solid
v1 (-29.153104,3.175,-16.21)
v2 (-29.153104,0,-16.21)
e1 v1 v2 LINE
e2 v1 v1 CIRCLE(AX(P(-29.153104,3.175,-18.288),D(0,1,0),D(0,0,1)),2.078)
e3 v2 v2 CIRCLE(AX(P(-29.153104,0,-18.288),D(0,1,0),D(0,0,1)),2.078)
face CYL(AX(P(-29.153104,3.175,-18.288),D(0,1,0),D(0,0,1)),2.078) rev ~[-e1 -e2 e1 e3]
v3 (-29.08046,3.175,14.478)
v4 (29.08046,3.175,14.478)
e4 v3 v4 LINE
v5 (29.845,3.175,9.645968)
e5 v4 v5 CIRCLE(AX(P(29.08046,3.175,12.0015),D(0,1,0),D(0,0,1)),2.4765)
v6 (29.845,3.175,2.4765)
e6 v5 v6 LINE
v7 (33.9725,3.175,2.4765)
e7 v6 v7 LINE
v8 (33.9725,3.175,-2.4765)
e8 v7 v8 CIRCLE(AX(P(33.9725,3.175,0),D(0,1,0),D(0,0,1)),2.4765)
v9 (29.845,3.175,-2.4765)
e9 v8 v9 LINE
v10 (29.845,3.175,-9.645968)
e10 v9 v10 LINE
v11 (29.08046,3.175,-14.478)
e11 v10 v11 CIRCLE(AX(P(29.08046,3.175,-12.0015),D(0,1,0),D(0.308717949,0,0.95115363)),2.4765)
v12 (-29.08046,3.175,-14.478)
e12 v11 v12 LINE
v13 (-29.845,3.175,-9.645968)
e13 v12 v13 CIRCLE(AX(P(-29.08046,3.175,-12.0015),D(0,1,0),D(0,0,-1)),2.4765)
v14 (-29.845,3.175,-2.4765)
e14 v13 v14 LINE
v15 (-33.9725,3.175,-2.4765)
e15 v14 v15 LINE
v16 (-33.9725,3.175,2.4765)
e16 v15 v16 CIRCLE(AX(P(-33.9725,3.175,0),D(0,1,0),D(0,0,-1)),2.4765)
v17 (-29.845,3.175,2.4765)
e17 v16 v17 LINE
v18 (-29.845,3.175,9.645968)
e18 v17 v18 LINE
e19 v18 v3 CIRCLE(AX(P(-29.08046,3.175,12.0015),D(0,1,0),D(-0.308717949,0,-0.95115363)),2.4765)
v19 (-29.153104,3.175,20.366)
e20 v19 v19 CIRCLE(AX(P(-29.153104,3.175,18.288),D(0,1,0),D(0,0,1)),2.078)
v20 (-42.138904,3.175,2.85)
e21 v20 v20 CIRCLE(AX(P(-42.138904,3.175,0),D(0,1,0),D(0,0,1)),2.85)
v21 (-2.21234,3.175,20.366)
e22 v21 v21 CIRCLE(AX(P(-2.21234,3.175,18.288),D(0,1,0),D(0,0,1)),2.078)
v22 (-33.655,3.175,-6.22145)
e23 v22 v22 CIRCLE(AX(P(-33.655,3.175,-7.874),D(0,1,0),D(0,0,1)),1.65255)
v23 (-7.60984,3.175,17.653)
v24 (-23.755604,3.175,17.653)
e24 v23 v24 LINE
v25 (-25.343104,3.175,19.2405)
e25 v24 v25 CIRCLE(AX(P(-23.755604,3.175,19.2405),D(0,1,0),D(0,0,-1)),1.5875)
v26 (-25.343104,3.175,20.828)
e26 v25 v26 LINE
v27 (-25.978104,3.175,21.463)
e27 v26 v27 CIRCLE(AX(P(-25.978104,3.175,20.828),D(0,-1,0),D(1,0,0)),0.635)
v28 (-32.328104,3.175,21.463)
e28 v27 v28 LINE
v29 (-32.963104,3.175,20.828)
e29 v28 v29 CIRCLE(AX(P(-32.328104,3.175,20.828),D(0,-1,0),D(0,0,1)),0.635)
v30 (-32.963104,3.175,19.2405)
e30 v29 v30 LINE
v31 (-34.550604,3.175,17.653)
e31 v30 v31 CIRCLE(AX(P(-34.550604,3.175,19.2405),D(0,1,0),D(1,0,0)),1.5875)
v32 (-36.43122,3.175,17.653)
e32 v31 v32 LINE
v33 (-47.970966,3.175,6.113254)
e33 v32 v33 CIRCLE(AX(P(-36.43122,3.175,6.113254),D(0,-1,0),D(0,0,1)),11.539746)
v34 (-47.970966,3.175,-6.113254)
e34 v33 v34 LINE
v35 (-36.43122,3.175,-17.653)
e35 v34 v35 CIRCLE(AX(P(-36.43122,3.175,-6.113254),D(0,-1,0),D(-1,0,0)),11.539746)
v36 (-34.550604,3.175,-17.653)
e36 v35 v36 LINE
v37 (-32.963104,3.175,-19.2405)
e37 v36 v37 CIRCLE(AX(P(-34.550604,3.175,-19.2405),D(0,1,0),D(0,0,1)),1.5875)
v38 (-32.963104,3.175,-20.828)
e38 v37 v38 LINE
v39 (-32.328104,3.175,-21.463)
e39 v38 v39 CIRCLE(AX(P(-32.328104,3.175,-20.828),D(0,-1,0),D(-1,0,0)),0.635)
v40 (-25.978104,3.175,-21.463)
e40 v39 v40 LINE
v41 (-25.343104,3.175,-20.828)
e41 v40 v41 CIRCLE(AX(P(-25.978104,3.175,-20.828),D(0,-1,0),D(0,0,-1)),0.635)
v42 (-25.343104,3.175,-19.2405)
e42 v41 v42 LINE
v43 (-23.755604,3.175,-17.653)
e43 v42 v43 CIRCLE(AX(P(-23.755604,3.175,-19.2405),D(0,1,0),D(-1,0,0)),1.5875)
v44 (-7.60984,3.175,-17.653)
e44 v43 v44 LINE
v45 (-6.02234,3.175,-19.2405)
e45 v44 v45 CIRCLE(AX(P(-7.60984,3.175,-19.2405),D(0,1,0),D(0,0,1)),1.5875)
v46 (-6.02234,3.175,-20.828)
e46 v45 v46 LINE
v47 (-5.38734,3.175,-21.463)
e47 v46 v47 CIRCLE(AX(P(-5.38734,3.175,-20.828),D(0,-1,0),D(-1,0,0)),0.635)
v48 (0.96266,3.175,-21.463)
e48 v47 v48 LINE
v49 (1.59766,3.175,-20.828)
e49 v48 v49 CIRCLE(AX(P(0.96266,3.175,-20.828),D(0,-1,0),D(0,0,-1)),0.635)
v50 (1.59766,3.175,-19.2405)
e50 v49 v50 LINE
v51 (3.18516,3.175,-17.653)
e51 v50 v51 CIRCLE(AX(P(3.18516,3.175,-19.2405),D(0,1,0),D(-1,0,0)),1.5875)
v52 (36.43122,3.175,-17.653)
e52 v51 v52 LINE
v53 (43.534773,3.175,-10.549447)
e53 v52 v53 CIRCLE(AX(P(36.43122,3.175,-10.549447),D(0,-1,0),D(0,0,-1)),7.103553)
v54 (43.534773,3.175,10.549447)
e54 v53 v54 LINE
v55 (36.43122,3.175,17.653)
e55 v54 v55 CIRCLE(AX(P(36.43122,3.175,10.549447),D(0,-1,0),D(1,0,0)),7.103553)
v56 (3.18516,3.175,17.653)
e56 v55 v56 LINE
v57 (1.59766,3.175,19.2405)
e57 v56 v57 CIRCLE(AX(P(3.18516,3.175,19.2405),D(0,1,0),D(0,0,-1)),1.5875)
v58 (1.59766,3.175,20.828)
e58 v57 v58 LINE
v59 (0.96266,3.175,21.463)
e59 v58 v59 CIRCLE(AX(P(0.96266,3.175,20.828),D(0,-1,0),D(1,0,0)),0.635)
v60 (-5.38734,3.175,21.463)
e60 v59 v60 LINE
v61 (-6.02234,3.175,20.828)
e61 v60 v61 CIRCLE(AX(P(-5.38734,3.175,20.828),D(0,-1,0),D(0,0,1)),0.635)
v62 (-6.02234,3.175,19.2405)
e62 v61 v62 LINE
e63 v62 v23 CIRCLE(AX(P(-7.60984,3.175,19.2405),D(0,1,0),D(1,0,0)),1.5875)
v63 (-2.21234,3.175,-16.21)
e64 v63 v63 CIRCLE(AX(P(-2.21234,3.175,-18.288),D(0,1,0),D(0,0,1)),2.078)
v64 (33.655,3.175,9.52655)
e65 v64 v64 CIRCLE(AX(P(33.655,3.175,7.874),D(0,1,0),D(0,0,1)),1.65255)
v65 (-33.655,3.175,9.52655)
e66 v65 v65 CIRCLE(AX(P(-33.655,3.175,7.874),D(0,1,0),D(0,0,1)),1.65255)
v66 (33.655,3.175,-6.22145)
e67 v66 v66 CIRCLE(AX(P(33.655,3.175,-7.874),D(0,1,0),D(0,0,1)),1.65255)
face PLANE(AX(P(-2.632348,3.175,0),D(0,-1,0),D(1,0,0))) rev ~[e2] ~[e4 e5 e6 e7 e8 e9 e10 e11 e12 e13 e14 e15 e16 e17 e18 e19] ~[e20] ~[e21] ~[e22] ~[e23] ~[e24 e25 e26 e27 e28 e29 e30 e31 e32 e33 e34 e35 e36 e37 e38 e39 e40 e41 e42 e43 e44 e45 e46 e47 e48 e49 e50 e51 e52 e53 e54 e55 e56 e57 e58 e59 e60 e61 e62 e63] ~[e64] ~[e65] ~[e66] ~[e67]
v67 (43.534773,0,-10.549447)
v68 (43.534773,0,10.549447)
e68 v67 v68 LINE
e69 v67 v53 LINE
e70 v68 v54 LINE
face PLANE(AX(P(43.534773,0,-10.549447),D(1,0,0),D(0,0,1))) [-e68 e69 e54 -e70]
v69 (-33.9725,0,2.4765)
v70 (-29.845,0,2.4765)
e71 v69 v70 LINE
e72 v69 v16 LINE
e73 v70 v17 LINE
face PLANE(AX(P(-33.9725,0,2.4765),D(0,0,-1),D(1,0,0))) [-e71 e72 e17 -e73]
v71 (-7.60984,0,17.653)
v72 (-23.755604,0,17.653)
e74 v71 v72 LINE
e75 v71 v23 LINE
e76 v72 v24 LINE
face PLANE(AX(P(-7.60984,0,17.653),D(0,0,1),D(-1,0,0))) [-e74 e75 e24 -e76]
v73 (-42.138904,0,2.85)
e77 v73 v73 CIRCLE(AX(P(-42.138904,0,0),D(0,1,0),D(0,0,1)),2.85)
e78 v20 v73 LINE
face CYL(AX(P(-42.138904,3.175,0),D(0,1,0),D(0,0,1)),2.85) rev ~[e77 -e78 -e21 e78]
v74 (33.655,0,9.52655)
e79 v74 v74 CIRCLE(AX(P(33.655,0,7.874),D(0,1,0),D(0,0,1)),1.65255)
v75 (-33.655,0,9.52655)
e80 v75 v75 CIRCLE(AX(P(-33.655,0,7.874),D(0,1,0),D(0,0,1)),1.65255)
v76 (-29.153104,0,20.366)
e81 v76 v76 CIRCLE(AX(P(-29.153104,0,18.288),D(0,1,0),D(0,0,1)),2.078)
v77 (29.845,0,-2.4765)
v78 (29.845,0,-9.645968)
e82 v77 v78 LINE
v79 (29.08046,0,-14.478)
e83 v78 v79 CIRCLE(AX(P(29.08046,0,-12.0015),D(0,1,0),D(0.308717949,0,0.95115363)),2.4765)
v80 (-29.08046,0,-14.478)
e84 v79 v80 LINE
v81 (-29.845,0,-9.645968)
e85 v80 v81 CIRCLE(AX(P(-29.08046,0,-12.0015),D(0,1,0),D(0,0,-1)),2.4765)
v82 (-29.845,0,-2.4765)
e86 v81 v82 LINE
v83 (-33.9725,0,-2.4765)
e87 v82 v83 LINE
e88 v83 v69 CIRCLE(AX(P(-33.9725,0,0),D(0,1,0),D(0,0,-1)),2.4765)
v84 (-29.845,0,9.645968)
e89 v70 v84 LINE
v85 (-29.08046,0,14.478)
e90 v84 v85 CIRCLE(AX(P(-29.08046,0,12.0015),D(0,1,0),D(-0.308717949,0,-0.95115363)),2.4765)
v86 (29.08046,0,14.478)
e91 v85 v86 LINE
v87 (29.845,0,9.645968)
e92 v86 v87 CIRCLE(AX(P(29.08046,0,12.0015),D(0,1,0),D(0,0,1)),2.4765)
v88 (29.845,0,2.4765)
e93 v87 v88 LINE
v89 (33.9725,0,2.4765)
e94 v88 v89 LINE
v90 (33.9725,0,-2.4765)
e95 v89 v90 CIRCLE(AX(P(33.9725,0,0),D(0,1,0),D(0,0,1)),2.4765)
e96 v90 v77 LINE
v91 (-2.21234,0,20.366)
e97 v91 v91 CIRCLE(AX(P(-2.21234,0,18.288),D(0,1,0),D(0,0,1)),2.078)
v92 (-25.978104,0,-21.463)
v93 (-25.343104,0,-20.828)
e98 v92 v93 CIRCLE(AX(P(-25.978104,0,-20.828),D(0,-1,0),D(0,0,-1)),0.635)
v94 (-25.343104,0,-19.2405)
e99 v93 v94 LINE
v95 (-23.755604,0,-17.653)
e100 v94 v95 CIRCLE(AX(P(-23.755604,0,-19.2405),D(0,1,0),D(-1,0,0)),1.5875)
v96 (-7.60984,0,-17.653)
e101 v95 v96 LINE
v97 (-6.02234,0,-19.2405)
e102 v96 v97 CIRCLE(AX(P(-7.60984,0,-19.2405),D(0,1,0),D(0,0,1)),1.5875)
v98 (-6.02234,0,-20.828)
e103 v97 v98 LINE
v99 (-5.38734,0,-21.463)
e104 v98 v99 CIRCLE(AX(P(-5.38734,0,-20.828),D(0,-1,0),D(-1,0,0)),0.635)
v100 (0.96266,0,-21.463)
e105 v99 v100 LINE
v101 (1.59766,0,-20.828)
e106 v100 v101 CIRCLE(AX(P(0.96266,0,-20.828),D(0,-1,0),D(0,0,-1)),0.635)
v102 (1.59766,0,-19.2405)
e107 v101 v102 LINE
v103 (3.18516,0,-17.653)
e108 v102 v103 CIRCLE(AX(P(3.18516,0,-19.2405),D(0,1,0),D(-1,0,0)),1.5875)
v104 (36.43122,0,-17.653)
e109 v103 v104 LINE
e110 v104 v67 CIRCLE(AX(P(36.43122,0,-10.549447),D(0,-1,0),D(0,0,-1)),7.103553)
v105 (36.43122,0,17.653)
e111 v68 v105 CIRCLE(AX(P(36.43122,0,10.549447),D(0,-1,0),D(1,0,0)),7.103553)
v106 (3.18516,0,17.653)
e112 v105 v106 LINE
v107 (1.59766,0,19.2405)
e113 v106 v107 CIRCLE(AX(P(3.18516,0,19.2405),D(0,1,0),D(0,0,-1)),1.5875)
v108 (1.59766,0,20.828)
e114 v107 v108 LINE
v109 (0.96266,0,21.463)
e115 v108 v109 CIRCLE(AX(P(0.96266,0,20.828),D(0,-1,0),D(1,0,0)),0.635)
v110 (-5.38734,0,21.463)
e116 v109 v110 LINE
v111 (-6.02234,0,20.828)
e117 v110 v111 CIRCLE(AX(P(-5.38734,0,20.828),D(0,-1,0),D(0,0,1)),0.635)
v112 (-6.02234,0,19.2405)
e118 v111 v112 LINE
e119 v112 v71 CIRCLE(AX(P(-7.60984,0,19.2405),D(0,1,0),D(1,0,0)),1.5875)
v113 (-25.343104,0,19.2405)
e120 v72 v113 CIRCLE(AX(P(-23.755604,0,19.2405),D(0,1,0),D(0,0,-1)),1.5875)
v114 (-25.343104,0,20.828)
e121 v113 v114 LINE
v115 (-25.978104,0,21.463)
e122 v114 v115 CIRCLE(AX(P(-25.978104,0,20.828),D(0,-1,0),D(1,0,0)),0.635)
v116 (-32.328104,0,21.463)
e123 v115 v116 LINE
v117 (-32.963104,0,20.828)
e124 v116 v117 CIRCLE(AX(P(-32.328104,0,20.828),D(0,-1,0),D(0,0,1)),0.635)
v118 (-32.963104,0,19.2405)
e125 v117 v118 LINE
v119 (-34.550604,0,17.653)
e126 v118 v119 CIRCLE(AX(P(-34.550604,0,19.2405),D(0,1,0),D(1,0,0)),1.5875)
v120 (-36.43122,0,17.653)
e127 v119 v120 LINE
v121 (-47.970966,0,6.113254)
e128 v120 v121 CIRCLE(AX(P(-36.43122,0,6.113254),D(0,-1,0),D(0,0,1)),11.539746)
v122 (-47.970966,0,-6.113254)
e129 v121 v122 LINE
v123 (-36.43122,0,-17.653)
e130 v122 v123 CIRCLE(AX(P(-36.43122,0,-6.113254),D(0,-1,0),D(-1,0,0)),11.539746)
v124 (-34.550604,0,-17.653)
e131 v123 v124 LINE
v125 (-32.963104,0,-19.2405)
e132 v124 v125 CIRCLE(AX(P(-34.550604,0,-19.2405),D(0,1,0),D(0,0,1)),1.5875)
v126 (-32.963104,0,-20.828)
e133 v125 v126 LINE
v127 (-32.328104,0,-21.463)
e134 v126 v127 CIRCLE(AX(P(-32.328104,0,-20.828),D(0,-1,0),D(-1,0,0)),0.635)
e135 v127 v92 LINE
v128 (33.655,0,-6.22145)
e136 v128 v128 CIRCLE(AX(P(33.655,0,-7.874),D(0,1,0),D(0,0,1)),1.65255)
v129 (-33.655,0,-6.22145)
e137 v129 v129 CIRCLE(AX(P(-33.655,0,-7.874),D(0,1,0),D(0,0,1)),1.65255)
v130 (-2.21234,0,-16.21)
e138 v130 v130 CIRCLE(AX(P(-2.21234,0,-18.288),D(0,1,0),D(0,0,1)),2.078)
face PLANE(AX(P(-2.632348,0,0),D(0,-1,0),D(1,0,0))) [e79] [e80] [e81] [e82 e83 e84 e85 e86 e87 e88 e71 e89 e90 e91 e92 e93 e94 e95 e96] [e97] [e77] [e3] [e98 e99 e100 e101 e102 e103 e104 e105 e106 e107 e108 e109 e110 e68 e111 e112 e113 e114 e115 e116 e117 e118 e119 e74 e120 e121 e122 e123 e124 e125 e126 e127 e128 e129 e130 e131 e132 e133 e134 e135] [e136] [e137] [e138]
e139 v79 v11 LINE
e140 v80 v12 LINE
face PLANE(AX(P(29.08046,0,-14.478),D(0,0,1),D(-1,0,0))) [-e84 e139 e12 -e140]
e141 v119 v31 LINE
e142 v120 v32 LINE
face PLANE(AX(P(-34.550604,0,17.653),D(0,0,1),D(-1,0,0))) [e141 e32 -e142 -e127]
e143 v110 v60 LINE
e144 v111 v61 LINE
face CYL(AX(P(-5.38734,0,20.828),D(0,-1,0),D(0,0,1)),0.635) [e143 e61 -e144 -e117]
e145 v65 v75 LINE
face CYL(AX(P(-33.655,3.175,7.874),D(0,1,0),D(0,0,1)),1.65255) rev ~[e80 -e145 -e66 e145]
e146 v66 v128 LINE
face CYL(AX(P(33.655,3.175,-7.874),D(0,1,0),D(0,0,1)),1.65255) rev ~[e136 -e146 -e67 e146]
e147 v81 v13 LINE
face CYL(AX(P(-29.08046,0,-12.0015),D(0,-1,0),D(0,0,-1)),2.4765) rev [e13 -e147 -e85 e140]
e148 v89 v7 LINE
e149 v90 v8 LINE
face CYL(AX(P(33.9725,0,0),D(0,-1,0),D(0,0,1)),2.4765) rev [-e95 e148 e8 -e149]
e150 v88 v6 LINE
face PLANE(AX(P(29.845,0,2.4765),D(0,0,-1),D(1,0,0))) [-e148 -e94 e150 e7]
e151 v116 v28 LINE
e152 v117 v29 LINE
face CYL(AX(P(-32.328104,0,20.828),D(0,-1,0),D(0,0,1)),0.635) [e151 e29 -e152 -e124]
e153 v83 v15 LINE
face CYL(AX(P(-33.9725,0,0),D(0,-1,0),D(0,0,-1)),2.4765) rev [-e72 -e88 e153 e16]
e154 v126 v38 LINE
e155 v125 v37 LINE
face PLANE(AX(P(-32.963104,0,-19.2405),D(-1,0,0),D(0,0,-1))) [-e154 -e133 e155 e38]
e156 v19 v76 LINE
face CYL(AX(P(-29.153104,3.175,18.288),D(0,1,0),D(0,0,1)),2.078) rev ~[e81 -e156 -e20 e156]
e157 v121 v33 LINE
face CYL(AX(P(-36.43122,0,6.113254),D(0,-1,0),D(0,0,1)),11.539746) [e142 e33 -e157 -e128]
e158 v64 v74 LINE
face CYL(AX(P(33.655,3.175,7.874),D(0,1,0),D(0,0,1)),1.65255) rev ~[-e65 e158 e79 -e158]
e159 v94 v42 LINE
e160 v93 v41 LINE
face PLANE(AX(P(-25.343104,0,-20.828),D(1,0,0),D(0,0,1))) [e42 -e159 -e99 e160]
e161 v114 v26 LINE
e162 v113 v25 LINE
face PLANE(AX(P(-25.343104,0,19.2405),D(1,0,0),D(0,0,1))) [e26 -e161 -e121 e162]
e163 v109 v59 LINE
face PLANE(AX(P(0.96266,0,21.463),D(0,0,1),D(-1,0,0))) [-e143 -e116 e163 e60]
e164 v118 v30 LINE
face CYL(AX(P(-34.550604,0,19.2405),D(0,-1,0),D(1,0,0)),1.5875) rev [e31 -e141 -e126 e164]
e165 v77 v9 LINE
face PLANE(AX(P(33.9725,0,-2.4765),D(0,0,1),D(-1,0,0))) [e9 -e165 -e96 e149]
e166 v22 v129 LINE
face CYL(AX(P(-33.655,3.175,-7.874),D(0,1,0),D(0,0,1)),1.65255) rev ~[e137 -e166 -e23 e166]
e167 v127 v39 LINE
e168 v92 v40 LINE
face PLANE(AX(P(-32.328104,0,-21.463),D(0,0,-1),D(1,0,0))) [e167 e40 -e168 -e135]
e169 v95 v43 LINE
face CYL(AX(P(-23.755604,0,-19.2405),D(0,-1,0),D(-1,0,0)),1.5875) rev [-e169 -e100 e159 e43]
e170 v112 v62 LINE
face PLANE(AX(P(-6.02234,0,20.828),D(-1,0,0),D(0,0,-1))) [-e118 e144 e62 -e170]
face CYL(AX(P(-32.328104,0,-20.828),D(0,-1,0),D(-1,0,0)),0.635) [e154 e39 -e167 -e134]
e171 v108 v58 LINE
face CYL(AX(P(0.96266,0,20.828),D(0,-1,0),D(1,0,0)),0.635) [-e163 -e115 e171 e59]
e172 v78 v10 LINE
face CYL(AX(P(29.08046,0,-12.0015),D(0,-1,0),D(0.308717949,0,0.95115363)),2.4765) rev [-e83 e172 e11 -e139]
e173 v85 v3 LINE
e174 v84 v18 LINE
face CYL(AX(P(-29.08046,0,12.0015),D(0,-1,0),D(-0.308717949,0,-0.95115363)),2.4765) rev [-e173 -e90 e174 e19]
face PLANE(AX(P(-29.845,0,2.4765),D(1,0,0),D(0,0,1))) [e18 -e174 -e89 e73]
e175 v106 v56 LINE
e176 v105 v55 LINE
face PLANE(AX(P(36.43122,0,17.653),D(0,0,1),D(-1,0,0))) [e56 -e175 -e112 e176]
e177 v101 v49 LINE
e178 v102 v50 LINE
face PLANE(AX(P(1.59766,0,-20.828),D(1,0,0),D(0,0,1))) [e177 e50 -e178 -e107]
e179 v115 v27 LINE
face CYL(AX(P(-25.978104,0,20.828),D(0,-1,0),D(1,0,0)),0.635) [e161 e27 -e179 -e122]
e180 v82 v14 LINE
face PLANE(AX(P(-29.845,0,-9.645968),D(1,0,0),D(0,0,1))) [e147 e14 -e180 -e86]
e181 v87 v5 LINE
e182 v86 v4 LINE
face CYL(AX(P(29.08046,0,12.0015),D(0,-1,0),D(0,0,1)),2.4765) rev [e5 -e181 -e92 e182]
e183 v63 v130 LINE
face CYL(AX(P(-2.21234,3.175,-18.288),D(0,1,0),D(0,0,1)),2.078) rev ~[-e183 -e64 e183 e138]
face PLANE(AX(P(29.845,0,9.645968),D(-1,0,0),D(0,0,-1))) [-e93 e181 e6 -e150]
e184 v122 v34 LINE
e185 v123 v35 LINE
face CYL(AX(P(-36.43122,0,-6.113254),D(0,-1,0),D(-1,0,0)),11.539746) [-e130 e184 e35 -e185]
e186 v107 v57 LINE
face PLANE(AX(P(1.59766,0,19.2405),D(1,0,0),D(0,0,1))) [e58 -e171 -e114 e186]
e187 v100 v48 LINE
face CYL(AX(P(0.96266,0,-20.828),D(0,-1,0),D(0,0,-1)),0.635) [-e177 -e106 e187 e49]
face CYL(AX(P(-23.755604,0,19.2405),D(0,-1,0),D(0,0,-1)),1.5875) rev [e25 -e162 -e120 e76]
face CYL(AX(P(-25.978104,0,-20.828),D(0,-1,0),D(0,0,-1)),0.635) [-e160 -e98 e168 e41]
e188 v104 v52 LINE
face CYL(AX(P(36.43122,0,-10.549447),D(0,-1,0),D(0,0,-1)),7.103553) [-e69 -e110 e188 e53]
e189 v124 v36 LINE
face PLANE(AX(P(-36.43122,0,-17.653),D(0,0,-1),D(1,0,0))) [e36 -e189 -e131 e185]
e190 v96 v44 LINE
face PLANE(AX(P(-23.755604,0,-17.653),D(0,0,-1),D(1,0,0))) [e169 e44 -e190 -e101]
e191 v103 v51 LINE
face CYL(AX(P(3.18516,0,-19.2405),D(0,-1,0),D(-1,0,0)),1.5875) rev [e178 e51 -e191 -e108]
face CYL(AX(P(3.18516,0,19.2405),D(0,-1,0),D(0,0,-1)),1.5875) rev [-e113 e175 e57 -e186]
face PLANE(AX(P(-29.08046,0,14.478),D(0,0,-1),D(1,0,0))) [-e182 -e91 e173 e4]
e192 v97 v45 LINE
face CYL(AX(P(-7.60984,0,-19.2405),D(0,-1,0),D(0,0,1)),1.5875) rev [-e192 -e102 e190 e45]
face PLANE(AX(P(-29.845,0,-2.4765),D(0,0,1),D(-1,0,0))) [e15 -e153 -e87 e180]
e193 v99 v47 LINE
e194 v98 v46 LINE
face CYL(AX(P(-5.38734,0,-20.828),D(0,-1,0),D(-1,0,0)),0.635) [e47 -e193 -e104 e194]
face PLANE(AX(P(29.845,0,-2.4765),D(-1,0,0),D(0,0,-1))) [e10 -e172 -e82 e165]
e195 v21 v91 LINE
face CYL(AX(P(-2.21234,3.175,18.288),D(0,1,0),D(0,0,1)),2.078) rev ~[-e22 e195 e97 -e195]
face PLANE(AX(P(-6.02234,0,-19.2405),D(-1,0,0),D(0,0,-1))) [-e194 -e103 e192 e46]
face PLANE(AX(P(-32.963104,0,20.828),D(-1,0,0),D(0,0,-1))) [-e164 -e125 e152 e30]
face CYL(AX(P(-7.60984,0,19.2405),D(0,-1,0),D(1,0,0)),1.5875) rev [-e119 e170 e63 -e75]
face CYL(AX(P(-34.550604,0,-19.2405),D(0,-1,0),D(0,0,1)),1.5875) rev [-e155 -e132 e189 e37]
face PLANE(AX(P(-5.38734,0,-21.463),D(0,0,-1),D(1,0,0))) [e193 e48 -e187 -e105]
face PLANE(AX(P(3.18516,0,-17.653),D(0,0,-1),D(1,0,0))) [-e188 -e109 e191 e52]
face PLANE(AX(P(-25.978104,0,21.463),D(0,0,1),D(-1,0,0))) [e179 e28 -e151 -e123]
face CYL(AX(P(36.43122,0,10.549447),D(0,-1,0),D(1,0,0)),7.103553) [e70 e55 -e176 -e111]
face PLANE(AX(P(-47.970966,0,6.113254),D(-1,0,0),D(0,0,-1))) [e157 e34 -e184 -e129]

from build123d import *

# Parameters (mm, degrees)
CROQUIS1_R              = 1.35255
CROQUIS1_R_2            = 1.778
SALIENTE_EXTRUIR1_DEPTH = 3.175
CROQUIS5_R              = 2.55
CORTAR_EXTRUIR1_DEPTH   = 53.649355209
CROQUIS6_R              = 2.078
CROQUIS6_R_2            = 1.65255
CROQUIS6_R_3            = 2.85
CORTAR_EXTRUIR2_DEPTH   = 53.649355209


with BuildPart() as part:
    # Croquis1 → Saliente-Extruir1 (new body)
    with BuildSketch(Plane.XZ):
        with BuildLine():
            Line((-6.02234, -19.2405), (-6.02234, -20.828))
            ThreePointArc((-6.02234, -20.828), (-5.836352806, -21.277012806), (-5.38734, -21.463))
            Line((-5.38734, -21.463), (0.96266, -21.463))
            ThreePointArc((0.96266, -21.463), (1.411672806, -21.277012806), (1.59766, -20.828))
            Line((1.59766, -20.828), (1.59766, -19.2405))
            ThreePointArc((1.59766, -19.2405), (2.062627985, -18.117967985), (3.18516, -17.653))
            Line((3.18516, -17.653), (36.43122, -17.653))
            ThreePointArc((36.43122, -17.653), (41.454190356, -15.572417555), (43.534772801, -10.549447199))
            Line((43.534772801, -10.549447199), (43.534772801, 10.549447199))
            ThreePointArc((43.534772801, 10.549447199), (41.454190356, 15.572417555), (36.43122, 17.653))
            Line((36.43122, 17.653), (3.18516, 17.653))
            ThreePointArc((3.18516, 17.653), (2.062627985, 18.117967985), (1.59766, 19.2405))
            Line((1.59766, 19.2405), (1.59766, 20.828))
            ThreePointArc((1.59766, 20.828), (1.411672806, 21.277012806), (0.96266, 21.463))
            Line((0.96266, 21.463), (-5.38734, 21.463))
            ThreePointArc((-5.38734, 21.463), (-5.836352806, 21.277012806), (-6.02234, 20.828))
            Line((-6.02234, 20.828), (-6.02234, 19.2405))
            ThreePointArc((-6.02234, 19.2405), (-6.487307985, 18.117967985), (-7.60984, 17.653))
            Line((-7.60984, 17.653), (-23.755604, 17.653))
            ThreePointArc((-23.755604, 17.653), (-24.878136015, 18.117967985), (-25.343104, 19.2405))
            Line((-25.343104, 19.2405), (-25.343104, 20.828))
            ThreePointArc((-25.343104, 20.828), (-25.529091194, 21.277012806), (-25.978104, 21.463))
            Line((-25.978104, 21.463), (-32.328104, 21.463))
            ThreePointArc((-32.328104, 21.463), (-32.777116806, 21.277012806), (-32.963104, 20.828))
            Line((-32.963104, 20.828), (-32.963104, 19.2405))
            ThreePointArc((-32.963104, 19.2405), (-33.428071985, 18.117967985), (-34.550604, 17.653))
            Line((-34.550604, 17.653), (-36.43122, 17.653))
            ThreePointArc((-36.43122, 17.653), (-44.591052878, 14.273086555), (-47.970966323, 6.113253677))
            Line((-47.970966323, 6.113253677), (-47.970966323, -6.113253677))
            ThreePointArc((-47.970966323, -6.113253677), (-44.591052878, -14.273086555), (-36.43122, -17.653))
            Line((-36.43122, -17.653), (-34.550604, -17.653))
            ThreePointArc((-34.550604, -17.653), (-33.428071985, -18.117967985), (-32.963104, -19.2405))
            Line((-32.963104, -19.2405), (-32.963104, -20.828))
            ThreePointArc((-32.963104, -20.828), (-32.777116806, -21.277012806), (-32.328104, -21.463))
            Line((-32.328104, -21.463), (-25.978104, -21.463))
            ThreePointArc((-25.978104, -21.463), (-25.529091194, -21.277012806), (-25.343104, -20.828))
            Line((-25.343104, -20.828), (-25.343104, -19.2405))
            ThreePointArc((-25.343104, -19.2405), (-24.878136015, -18.117967985), (-23.755604, -17.653))
            Line((-23.755604, -17.653), (-7.60984, -17.653))
            ThreePointArc((-7.60984, -17.653), (-6.487307985, -18.117967985), (-6.02234, -19.2405))
        make_face()
        with Locations(Location((33.655, -7.874, 0), (0, 0, 90))):
            Circle(CROQUIS1_R, mode=Mode.SUBTRACT)
        with Locations(Location((-33.655, 7.874, 0), (0, 0, 90))):
            Circle(CROQUIS1_R, mode=Mode.SUBTRACT)
        with Locations(Location((-33.655, -7.874, 0), (0, 0, 90))):
            Circle(CROQUIS1_R, mode=Mode.SUBTRACT)
        with Locations(Location((-2.21234, 18.288, 0), (0, 0, 90))):
            Circle(CROQUIS1_R_2, mode=Mode.SUBTRACT)
        with Locations(Location((-29.153104, -18.288, 0), (0, 0, 90))):
            Circle(CROQUIS1_R_2, mode=Mode.SUBTRACT)
        with Locations(Location((-2.21234, -18.288, 0), (0, 0, 90))):
            Circle(CROQUIS1_R_2, mode=Mode.SUBTRACT)
        with Locations(Location((-29.153104, 18.288, 0), (0, 0, 90))):
            Circle(CROQUIS1_R_2, mode=Mode.SUBTRACT)
        with Locations(Location((33.655, 7.874, 0), (0, 0, 90))):
            Circle(CROQUIS1_R, mode=Mode.SUBTRACT)
        with BuildLine():
            Line((-33.9725, 2.4765), (-29.845, 2.4765))
            Line((-29.845, 2.4765), (-29.845, 9.645968035))
            ThreePointArc((-29.845, 9.645968035), (-31.52653105, 12.388525412), (-29.08046, 14.478))
            Line((-29.08046, 14.478), (29.08046, 14.478))
            ThreePointArc((29.08046, 14.478), (31.52653105, 12.388525412), (29.845, 9.645968035))
            Line((29.845, 9.645968035), (29.845, 2.4765))
            Line((29.845, 2.4765), (33.9725, 2.4765))
            ThreePointArc((33.9725, 2.4765), (36.449, 0), (33.9725, -2.4765))
            Line((33.9725, -2.4765), (29.845, -2.4765))
            Line((29.845, -2.4765), (29.845, -9.645968035))
            ThreePointArc((29.845, -9.645968035), (31.52653105, -12.388525412), (29.08046, -14.478))
            Line((29.08046, -14.478), (-29.08046, -14.478))
            ThreePointArc((-29.08046, -14.478), (-31.52653105, -12.388525412), (-29.845, -9.645968035))
            Line((-29.845, -9.645968035), (-29.845, -2.4765))
            Line((-29.845, -2.4765), (-33.9725, -2.4765))
            ThreePointArc((-33.9725, -2.4765), (-36.449, 0), (-33.9725, 2.4765))
        make_face(mode=Mode.SUBTRACT)
    extrude(amount=-SALIENTE_EXTRUIR1_DEPTH)

    # Croquis5 → Cortar-Extruir1 (cut, through all)
    with BuildSketch(Plane(origin=(0, 3.175, 0), x_dir=(1, 0, 0), z_dir=(0, 1, 0))):
        with Locations(Location((-42.138904379, 0, 0), (0, 0, 270))):
            Circle(CROQUIS5_R)
    extrude(amount=-CORTAR_EXTRUIR1_DEPTH, mode=Mode.SUBTRACT)

    # Croquis6 → Cortar-Extruir2 (cut, through all)
    with BuildSketch(Plane(origin=(0, 3.175, 0), x_dir=(1, 0, 0), z_dir=(0, 1, 0))):
        with Locations(Location((-29.153104, 18.288, 0), (0, 0, 270))):
            Circle(CROQUIS6_R)
        with Locations(Location((-33.655, 7.874, 0), (0, 0, 270))):
            Circle(CROQUIS6_R_2)
        with Locations(Location((-33.655, -7.874, 0), (0, 0, 270))):
            Circle(CROQUIS6_R_2)
        with Locations(Location((-29.153104, -18.288, 0), (0, 0, 270))):
            Circle(CROQUIS6_R)
        with Locations(Location((-2.21234, -18.288, 0), (0, 0, 270))):
            Circle(CROQUIS6_R)
        with Locations(Location((-42.138904379, 0, 0), (0, 0, 270))):
            Circle(CROQUIS6_R_3)
        with Locations(Location((-2.21234, 18.288, 0), (0, 0, 270))):
            Circle(CROQUIS6_R)
        with Locations(Location((33.655, 7.874, 0), (0, 0, 270))):
            Circle(CROQUIS6_R_2)
        with Locations(Location((33.655, -7.874, 0), (0, 0, 270))):
            Circle(CROQUIS6_R_2)
    extrude(amount=-CORTAR_EXTRUIR2_DEPTH, mode=Mode.SUBTRACT)


solid = part.part
